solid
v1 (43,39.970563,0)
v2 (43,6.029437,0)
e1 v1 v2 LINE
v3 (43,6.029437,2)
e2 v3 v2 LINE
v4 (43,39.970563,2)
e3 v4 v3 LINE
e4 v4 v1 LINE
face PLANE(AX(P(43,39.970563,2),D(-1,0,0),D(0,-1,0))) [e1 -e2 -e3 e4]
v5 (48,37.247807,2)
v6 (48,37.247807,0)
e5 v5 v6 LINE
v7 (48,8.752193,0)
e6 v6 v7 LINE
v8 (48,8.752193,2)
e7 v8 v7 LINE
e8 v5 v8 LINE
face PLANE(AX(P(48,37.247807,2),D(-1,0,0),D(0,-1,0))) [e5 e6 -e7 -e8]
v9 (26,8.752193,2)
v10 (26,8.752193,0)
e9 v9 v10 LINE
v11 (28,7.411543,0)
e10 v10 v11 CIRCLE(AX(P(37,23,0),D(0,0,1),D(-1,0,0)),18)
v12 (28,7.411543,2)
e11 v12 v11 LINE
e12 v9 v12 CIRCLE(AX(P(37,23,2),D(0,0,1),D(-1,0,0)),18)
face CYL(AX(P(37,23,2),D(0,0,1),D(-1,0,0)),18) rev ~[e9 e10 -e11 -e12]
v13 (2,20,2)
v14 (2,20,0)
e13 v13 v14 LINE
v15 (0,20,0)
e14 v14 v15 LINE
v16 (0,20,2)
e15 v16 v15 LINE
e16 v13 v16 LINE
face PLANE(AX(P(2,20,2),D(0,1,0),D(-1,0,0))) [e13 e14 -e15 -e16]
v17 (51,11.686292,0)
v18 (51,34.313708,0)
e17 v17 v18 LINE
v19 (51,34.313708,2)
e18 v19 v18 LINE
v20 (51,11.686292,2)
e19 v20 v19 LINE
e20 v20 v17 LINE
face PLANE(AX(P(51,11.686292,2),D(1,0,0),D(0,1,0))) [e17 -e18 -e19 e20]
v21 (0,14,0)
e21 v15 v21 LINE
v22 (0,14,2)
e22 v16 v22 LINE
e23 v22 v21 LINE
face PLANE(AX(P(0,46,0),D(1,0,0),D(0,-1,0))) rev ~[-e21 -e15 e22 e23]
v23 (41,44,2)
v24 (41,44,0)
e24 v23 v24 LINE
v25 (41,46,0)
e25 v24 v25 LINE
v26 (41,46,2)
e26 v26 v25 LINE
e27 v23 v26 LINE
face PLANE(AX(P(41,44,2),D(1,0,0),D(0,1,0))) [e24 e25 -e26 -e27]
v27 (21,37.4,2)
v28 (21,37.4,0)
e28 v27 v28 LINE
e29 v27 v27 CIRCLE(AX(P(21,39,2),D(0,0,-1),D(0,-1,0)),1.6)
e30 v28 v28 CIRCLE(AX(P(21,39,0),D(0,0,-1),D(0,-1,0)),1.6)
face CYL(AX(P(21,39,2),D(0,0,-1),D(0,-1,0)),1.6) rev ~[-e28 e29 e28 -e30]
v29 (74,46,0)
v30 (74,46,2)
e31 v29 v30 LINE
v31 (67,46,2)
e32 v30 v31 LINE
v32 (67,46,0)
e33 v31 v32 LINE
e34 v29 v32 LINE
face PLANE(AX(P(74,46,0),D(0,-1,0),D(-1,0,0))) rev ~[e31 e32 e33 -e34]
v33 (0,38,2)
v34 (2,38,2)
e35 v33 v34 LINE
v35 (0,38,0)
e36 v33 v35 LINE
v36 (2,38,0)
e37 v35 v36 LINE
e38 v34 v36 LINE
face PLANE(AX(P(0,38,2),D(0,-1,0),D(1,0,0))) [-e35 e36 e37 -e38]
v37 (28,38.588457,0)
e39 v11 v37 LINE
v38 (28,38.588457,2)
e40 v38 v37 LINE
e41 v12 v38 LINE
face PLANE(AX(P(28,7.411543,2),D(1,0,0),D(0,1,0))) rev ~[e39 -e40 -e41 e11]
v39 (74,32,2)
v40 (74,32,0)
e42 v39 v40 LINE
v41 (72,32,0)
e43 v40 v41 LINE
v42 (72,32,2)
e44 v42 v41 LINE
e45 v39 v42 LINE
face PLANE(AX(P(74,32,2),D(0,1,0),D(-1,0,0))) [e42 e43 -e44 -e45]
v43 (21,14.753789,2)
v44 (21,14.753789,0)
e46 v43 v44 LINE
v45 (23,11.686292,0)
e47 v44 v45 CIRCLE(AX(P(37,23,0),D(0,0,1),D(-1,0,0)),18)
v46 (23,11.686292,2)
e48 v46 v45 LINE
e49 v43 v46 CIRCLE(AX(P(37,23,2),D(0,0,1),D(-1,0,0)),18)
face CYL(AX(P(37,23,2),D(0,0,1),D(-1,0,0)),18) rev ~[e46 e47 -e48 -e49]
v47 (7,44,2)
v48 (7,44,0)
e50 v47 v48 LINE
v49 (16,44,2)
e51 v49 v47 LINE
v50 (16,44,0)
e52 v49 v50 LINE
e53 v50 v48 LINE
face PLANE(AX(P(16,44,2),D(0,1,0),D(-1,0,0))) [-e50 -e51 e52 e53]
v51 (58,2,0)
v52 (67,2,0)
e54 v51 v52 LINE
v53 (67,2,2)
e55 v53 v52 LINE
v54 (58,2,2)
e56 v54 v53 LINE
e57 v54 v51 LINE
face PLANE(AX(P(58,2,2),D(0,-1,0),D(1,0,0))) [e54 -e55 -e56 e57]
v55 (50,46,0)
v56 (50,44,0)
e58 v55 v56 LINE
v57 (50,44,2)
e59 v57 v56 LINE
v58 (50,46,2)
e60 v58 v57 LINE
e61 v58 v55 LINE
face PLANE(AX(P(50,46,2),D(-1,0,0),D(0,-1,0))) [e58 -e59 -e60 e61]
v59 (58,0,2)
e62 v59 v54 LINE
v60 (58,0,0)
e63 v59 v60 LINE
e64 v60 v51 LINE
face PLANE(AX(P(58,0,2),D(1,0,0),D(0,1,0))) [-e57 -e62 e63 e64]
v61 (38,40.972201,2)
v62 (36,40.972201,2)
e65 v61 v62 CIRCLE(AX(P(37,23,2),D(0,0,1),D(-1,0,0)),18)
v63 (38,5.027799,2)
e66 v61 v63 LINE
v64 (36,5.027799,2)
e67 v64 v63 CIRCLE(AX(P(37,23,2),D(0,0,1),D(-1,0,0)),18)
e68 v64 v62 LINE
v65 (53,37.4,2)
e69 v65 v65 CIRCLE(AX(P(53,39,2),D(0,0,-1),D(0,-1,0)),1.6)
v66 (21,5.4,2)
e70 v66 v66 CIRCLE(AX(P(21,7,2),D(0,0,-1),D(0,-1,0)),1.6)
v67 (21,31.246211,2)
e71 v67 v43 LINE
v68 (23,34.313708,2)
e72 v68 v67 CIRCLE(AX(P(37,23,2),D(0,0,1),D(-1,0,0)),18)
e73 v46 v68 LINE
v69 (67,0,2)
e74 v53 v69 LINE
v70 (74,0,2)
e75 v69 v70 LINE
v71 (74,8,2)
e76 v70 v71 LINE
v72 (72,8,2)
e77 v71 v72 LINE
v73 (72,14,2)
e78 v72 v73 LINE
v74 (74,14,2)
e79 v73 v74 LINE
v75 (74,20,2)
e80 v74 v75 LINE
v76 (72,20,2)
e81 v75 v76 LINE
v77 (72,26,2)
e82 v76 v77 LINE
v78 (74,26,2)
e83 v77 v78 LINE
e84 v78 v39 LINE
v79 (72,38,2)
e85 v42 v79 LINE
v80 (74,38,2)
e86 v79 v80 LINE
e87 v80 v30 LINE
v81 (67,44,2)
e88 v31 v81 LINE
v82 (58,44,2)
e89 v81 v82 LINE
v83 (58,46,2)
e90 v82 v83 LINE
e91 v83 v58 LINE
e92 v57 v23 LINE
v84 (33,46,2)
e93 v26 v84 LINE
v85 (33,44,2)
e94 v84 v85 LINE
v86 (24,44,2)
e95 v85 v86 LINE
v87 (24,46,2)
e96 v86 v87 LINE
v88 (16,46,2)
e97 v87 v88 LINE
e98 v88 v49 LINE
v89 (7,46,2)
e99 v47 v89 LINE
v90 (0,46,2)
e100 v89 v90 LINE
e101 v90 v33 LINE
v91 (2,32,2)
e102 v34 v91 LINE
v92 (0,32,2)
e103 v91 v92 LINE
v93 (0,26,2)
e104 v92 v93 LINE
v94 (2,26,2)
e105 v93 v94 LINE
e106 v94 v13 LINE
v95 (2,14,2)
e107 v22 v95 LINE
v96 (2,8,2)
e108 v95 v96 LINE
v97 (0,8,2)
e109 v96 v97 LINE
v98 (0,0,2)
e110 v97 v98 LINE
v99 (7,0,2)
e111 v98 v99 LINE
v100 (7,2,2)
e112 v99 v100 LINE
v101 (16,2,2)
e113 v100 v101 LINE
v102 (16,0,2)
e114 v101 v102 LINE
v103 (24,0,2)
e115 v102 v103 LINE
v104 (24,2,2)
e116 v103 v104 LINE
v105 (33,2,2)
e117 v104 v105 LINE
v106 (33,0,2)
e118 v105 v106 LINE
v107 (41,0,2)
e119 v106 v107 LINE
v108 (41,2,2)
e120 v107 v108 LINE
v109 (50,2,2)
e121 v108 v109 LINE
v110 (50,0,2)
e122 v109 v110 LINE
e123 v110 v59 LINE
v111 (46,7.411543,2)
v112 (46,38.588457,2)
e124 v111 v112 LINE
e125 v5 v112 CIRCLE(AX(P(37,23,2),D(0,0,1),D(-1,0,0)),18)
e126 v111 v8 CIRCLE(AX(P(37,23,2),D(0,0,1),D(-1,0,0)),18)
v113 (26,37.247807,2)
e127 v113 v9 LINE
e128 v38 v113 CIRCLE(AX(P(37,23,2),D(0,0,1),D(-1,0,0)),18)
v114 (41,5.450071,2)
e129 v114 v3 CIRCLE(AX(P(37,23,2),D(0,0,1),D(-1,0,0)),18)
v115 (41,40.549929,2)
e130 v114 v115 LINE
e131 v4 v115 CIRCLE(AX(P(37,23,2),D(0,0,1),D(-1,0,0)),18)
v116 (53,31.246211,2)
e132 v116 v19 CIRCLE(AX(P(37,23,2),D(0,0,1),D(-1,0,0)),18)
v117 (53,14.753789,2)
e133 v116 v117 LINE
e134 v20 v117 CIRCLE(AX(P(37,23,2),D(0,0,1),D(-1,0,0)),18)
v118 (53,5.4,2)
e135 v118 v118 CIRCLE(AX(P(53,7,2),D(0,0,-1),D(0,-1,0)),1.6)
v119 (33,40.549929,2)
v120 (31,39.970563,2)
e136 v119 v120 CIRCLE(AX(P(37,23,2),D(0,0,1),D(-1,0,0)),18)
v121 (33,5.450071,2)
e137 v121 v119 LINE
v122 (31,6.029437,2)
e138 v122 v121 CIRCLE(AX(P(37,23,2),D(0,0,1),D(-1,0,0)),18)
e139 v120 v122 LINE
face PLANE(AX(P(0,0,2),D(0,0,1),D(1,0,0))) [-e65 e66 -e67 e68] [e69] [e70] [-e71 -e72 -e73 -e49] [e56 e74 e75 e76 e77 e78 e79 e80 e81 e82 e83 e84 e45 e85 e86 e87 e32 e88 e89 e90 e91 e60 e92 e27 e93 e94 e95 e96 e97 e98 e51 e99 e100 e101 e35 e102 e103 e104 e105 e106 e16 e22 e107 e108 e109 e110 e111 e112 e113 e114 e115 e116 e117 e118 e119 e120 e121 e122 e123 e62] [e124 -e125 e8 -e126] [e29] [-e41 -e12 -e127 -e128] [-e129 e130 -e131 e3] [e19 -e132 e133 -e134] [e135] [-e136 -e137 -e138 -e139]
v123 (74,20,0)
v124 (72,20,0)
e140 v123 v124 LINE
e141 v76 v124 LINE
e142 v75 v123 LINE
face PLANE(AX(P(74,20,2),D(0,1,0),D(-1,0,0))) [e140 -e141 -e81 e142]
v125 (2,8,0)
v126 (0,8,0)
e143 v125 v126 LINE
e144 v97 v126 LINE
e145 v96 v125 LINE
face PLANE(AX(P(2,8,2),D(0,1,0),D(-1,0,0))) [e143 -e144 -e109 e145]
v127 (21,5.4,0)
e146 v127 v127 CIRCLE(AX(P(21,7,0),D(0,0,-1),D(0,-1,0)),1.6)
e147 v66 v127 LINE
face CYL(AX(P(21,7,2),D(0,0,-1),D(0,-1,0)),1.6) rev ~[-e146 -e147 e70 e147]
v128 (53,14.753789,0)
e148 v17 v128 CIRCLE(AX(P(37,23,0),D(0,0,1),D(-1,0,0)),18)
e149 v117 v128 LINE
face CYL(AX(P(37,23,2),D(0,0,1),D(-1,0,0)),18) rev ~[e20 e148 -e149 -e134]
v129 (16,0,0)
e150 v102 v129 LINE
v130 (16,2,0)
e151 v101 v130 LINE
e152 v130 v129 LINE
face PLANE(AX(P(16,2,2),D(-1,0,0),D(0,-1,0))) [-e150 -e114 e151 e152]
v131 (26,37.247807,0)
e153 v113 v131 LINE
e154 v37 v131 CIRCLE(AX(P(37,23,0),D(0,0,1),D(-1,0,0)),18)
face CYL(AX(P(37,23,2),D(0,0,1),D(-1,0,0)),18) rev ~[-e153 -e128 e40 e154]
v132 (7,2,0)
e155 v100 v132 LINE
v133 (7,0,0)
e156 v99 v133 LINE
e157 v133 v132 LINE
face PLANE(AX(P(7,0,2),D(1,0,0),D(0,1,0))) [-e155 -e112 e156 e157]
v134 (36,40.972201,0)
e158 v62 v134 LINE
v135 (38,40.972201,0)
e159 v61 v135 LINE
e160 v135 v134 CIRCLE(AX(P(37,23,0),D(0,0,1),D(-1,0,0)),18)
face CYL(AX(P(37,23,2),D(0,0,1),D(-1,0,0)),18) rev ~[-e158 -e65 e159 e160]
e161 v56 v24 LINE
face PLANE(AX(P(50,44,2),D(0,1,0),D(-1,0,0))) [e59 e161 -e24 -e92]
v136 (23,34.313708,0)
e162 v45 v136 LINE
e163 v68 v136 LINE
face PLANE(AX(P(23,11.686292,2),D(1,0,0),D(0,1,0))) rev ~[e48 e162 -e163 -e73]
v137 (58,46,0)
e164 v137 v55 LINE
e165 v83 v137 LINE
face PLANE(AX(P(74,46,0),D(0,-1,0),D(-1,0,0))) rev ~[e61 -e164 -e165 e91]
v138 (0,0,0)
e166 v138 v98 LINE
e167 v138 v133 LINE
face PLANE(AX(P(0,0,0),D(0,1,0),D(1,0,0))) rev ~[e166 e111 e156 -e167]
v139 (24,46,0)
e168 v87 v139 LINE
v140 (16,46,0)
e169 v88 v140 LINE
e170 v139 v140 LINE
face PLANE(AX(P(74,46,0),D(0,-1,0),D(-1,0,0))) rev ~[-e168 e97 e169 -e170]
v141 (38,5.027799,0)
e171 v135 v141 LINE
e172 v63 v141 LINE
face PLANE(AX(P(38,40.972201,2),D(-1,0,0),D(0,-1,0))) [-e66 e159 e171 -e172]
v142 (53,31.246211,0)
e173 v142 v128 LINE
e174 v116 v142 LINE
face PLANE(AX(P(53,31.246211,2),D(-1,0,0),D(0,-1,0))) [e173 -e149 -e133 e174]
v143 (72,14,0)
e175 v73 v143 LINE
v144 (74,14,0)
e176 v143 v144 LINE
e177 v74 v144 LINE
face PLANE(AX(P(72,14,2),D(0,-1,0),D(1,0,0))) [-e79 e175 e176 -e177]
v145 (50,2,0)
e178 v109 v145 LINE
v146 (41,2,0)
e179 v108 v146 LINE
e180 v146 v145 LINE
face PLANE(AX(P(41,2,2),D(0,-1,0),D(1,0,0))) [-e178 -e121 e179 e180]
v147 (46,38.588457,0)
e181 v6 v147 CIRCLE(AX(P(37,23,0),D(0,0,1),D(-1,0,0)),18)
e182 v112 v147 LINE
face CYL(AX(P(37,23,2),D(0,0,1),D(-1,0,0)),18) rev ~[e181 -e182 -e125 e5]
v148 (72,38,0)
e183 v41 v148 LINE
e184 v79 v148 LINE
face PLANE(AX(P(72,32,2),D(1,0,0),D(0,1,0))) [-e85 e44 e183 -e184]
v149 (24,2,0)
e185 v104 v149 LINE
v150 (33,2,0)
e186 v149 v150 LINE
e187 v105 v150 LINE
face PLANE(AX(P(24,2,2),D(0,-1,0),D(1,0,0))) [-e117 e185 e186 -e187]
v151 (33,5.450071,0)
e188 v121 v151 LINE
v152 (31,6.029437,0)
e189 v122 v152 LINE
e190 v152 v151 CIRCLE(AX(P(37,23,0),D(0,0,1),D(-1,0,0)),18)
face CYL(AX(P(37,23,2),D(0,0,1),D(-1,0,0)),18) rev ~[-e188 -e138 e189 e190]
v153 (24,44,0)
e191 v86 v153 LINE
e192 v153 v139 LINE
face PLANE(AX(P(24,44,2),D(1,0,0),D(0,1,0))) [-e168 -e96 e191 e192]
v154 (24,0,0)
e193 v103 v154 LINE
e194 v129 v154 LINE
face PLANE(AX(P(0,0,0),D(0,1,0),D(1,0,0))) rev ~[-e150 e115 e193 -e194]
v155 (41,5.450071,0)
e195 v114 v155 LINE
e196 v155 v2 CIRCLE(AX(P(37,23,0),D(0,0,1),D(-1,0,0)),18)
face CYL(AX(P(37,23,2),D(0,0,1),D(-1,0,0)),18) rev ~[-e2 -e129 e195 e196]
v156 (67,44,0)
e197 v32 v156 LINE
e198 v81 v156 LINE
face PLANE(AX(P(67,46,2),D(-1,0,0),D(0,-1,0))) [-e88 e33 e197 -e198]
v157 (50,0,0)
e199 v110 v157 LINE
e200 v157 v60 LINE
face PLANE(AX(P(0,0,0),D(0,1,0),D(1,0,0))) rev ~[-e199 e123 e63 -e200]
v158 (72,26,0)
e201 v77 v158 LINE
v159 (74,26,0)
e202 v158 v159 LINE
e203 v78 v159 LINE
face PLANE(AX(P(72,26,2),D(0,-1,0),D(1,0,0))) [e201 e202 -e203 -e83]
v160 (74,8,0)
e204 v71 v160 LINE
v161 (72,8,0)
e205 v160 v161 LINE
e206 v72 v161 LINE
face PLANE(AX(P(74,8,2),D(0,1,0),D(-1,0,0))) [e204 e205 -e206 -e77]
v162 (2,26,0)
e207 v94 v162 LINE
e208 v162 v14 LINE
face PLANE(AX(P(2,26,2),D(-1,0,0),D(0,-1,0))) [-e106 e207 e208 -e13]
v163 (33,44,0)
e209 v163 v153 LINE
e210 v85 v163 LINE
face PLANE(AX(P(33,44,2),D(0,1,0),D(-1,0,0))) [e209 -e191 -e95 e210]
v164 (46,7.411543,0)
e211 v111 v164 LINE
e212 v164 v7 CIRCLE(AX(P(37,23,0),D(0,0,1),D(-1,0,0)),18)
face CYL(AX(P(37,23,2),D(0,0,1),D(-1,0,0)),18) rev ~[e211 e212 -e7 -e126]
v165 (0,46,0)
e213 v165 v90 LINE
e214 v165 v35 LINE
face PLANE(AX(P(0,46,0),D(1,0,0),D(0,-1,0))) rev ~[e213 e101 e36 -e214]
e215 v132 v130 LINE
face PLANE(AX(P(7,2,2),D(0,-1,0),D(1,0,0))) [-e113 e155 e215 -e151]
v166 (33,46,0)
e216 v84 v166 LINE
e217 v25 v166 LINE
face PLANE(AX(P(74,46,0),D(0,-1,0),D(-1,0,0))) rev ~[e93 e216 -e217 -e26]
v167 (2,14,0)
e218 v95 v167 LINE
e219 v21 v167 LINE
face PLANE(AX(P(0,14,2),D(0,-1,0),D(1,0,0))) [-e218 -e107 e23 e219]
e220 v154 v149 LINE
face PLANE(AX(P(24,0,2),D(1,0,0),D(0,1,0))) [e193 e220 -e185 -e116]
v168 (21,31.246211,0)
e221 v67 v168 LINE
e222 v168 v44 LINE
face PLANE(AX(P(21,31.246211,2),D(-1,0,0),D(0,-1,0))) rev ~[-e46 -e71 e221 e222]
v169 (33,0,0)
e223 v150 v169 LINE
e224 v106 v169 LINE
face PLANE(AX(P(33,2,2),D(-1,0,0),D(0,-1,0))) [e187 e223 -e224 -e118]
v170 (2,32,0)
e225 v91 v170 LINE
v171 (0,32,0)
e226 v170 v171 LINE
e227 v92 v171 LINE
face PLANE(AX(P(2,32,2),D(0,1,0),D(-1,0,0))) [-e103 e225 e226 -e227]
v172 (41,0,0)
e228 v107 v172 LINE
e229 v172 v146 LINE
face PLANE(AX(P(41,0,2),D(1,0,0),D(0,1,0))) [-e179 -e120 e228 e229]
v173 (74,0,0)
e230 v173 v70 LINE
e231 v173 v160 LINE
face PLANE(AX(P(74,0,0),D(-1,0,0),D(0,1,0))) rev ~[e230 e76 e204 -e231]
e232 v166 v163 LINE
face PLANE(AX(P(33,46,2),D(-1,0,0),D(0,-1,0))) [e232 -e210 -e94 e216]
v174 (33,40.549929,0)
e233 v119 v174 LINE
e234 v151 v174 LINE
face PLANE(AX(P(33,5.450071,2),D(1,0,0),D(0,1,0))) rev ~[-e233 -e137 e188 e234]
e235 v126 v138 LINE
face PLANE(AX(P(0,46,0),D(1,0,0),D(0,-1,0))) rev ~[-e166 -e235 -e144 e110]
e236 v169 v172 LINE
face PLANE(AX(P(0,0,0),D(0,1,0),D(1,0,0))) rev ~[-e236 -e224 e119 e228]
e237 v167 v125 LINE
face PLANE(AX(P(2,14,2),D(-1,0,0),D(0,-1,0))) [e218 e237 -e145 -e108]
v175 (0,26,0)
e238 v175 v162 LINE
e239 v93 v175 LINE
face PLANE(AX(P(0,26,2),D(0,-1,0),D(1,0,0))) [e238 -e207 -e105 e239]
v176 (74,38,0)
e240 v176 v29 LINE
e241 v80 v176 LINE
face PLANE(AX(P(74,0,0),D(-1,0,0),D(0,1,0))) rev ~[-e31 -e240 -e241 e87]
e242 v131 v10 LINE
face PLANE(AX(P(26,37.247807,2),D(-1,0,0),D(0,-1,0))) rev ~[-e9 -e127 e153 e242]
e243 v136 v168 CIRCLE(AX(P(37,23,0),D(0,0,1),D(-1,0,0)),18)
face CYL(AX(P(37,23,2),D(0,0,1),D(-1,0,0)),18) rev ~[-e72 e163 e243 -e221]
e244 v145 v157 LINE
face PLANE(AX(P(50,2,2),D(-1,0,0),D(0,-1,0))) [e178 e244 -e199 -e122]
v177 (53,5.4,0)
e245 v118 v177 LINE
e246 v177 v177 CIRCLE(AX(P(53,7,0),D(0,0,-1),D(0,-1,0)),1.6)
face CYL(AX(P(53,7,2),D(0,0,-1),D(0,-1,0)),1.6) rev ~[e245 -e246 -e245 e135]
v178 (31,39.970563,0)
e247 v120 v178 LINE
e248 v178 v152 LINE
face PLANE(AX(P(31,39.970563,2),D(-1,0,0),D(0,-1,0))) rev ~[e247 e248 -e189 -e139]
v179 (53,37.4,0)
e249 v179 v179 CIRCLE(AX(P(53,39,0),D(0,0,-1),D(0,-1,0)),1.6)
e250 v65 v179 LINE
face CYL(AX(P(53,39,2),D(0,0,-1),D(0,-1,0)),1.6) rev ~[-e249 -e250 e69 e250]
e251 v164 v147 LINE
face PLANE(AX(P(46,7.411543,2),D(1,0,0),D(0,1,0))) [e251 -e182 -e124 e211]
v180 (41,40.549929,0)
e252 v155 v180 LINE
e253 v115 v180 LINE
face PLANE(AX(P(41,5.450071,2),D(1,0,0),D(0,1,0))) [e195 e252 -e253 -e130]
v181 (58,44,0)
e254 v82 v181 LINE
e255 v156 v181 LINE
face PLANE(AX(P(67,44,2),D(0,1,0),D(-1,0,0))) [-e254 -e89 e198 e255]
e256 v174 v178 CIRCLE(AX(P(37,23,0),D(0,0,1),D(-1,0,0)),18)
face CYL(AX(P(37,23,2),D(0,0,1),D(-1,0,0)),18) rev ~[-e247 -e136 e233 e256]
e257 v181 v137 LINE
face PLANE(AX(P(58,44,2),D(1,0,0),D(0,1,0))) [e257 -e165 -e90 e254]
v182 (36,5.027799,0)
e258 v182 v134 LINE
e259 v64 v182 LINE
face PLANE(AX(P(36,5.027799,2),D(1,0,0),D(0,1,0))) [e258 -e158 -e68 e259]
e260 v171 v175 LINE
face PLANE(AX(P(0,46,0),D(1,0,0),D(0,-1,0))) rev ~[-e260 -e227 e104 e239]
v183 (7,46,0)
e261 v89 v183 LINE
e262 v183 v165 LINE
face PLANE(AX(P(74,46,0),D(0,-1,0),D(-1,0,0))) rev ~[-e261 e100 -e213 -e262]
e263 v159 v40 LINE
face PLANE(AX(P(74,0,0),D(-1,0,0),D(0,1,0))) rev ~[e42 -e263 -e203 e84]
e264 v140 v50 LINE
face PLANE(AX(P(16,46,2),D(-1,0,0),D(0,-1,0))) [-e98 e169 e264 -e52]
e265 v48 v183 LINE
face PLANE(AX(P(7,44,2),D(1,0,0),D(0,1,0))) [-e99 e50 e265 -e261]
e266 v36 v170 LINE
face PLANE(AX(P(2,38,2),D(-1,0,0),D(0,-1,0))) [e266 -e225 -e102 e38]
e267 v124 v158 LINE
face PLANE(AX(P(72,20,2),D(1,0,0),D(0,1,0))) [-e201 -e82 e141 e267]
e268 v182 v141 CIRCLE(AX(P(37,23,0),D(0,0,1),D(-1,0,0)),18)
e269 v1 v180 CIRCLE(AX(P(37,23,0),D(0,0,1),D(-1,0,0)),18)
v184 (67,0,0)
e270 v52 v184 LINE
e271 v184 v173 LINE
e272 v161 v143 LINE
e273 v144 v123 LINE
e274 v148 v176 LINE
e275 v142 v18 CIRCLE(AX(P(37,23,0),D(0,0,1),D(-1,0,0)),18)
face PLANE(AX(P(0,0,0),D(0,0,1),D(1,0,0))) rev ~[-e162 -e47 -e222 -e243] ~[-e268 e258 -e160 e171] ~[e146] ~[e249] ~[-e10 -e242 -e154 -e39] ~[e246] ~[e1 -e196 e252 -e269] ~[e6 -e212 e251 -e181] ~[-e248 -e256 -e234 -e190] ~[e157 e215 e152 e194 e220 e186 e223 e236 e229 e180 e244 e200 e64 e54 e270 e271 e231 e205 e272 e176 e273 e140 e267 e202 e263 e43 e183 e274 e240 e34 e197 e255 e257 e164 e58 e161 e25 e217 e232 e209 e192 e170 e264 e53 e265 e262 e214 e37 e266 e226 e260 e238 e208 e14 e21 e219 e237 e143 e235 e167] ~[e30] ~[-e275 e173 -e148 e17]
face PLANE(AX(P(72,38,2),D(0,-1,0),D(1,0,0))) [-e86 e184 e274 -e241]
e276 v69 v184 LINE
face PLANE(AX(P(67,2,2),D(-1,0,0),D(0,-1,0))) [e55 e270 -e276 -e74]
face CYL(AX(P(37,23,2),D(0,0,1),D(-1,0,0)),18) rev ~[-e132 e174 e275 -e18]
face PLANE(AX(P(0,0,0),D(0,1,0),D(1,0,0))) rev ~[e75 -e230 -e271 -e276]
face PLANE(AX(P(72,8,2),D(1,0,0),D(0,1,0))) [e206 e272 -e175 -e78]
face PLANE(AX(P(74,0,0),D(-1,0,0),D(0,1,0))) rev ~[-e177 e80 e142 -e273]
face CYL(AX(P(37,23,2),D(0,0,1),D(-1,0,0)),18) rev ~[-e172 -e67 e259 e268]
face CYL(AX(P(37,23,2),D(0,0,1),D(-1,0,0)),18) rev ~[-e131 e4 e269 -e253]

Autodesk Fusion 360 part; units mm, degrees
sketch "スケッチ1" plane through (0, 0, 0) normal (0, 0, 1) x (1, 0, 0)
  line L0 (0, 0) -> (74, 0)
  line L1 (74, 0) -> (74, 46)
  line L2 (74, 46) -> (0, 46)
  line L3 (0, 46) -> (0, 0)
  dimension "d1" = 46
  dimension "d2" = 74
extrude "押し出し1" add sketch "スケッチ1" along normal blind 2
sketch "スケッチ2" plane through (0, 0, 2) normal (0, 0, 1) x (-1, 0, 0)
  line L0 (0, -46) -> (0, 0)
  line L1 (0, 0) -> (-74, 0)
  line L2 (-74, 0) -> (-74, -46)
  line L3 (-74, -46) -> (0, -46)
  circle A0 centre (-53, -39) radius 1.6
  circle A1 centre (-53, -39) radius 1.6
  circle A2 centre (-53, -7) radius 1.6
  circle A3 centre (-21, -7) radius 1.6
  circle A4 centre (-21, -39) radius 1.6
  dimension "d5" = 3.2
  dimension "d6" = 7
  dimension "d7" = 21
  dimension "d8" = 3.2
  dimension "d9" = 3.2
  dimension "d10" = 3.2
  dimension "d11" = 3.2
  dimension "d12" = 7
  dimension "d13" = 21
hole "穴1" at (21, 39, 2) at (53, 39, 2) at (53, 7, 2) at (21, 7, 2) direction (0, 0, -1) diameter 3.2 depth 16 tip angle 118
sketch "スケッチ3" plane through (0, 0, 2) normal (0, 0, 1) x (-1, 0, 0)
  circle A0 centre (-53, -7) radius 1.6
  circle A1 centre (-21, -39) radius 1.6
  circle A2 centre (-53, -39) radius 1.6
  circle A3 centre (-21, -7) radius 1.6
  line L0 (0, -46) -> (0, 0)
  line L1 (0, 0) -> (-74, 0)
  line L2 (-74, 0) -> (-74, -46)
  line L3 (-74, -46) -> (0, -46)
  line L4 (-58, -46) -> (-67, -46)
  line L5 (-67, -46) -> (-67, -44)
  line L6 (-67, -44) -> (-58, -44)
  line L7 (-58, -44) -> (-58, -46)
  line L8 (-50, -46) -> (-50, -44)
  line L9 (-41, -46) -> (-50, -46)
  line L10 (-50, -44) -> (-41, -44)
  line L11 (-41, -44) -> (-41, -46)
  line L12 (-33, -46) -> (-33, -44)
  line L13 (-24, -46) -> (-33, -46)
  line L14 (-33, -44) -> (-24, -44)
  line L15 (-24, -44) -> (-24, -46)
  line L16 (-16, -46) -> (-16, -44)
  line L17 (-7, -46) -> (-16, -46)
  line L18 (-16, -44) -> (-7, -44)
  line L19 (-7, -44) -> (-7, -46)
  line L20 (0, -38) -> (-2, -38)
  line L21 (-2, -38) -> (-2, -32)
  line L22 (-2, -32) -> (0, -32)
  line L23 (0, -32) -> (0, -38)
  line L24 (-2, -20) -> (0, -20)
  line L25 (0, -20) -> (0, -26)
  line L26 (-2, -26) -> (-2, -20)
  line L27 (0, -26) -> (-2, -26)
  line L28 (-2, -8) -> (0, -8)
  line L29 (0, -8) -> (0, -14)
  line L30 (-2, -14) -> (-2, -8)
  line L31 (0, -14) -> (-2, -14)
  line L32 (-72, -8) -> (-72, -14)
  line L33 (-72, -38) -> (-74, -38)
  line L34 (-72, -32) -> (-72, -38)
  line L35 (-74, -26) -> (-74, -20)
  line L36 (-74, -32) -> (-72, -32)
  line L37 (-74, -20) -> (-72, -20)
  line L38 (-72, -20) -> (-72, -26)
  line L39 (-74, -14) -> (-74, -8)
  line L40 (-72, -26) -> (-74, -26)
  line L41 (-74, -38) -> (-74, -32)
  line L42 (-74, -8) -> (-72, -8)
  line L43 (-72, -14) -> (-74, -14)
  line L44 (-144, -8) -> (-144, -14)
  line L45 (-144, -38) -> (-146, -38)
  line L46 (-144, -32) -> (-144, -38)
  line L47 (-146, -26) -> (-146, -20)
  line L48 (-146, -32) -> (-144, -32)
  line L49 (-146, -20) -> (-144, -20)
  line L50 (-144, -20) -> (-144, -26)
  line L51 (-146, -14) -> (-146, -8)
  line L52 (-144, -26) -> (-146, -26)
  line L53 (-146, -38) -> (-146, -32)
  line L54 (-146, -8) -> (-144, -8)
  line L55 (-144, -14) -> (-146, -14)
  line L56 (-41, 0) -> (-41, -2)
  line L57 (-67, 0) -> (-58, 0)
  line L58 (-67, -2) -> (-67, 0)
  line L59 (-41, -2) -> (-50, -2)
  line L60 (-7, 0) -> (-7, -2)
  line L61 (-24, 0) -> (-24, -2)
  line L62 (-33, 0) -> (-24, 0)
  line L63 (-50, -2) -> (-50, 0)
  line L64 (-24, -2) -> (-33, -2)
  line L65 (-7, -2) -> (-16, -2)
  line L66 (-58, -2) -> (-67, -2)
  line L67 (-16, -2) -> (-16, 0)
  line L68 (-50, 0) -> (-41, 0)
  line L69 (-58, 0) -> (-58, -2)
  line L70 (-16, 0) -> (-7, 0)
  line L71 (-33, -2) -> (-33, 0)
  line L72 (-41, 44) -> (-41, 42)
  line L73 (-67, 44) -> (-58, 44)
  line L74 (-67, 42) -> (-67, 44)
  line L75 (-41, 42) -> (-50, 42)
  line L76 (-7, 44) -> (-7, 42)
  line L77 (-24, 44) -> (-24, 42)
  line L78 (-33, 44) -> (-24, 44)
  line L79 (-50, 42) -> (-50, 44)
  line L80 (-24, 42) -> (-33, 42)
  line L81 (-7, 42) -> (-16, 42)
  line L82 (-58, 42) -> (-67, 42)
  line L83 (-16, 42) -> (-16, 44)
  line L84 (-50, 44) -> (-41, 44)
  line L85 (-58, 44) -> (-58, 42)
  line L86 (-16, 44) -> (-7, 44)
  line L87 (-33, 42) -> (-33, 44)
  dimension "d17" = 9
  dimension "d18" = 2
  dimension "d19" = 7
  dimension "d22" = 17
  dimension "d23" = 0
  dimension "d24" = 6
  dimension "d25" = 2
  dimension "d26" = 8
  dimension "d29" = 0
  dimension "d30" = 12
  dimension "d33" = -72
  dimension "d34" = 0
  dimension "d37" = 0
  dimension "d38" = 44
extrude "押し出し2" cut sketch "スケッチ3" against normal blind 2 contours L0 L20 L21 L22 L23 | L3 L16 L17 L18 L19 | L0 L24 L25 L26 L27 | L3 L12 L13 L14 L15 | L0 L28 L29 L30 L31 | L3 L8 L9 L10 L11 | L3 L4 L5 L6 L7 | L1 L60 L65 L67 L70 | L1 L61 L62 L64 L71 | L2 L33 L34 L36 L41 | L1 L56 L59 L63 L68 | L2 L35 L37 L38 L40 | L1 L57 L58 L66 L69 | L2 L32 L39 L42 L43
sketch "スケッチ4" plane through (0, 0, 2) normal (0, 0, 1) x (-1, 0, 0)
  line L0 (-50, -2) -> (-50, 0)
  line L1 (-50, 0) -> (-58, 0)
  line L2 (-58, 0) -> (-58, -2)
  line L3 (-58, -2) -> (-67, -2)
  line L4 (-67, -2) -> (-67, 0)
  line L5 (-67, 0) -> (-74, 0)
  line L6 (-74, 0) -> (-74, -8)
  line L7 (-74, -8) -> (-72, -8)
  line L8 (-72, -8) -> (-72, -14)
  line L9 (-72, -14) -> (-74, -14)
  line L10 (-74, -14) -> (-74, -20)
  line L11 (-74, -20) -> (-72, -20)
  line L12 (-72, -20) -> (-72, -26)
  line L13 (-72, -26) -> (-74, -26)
  line L14 (-74, -26) -> (-74, -32)
  line L15 (-74, -32) -> (-72, -32)
  line L16 (-72, -32) -> (-72, -38)
  line L17 (-72, -38) -> (-74, -38)
  line L18 (-74, -38) -> (-74, -46)
  line L19 (-74, -46) -> (-67, -46)
  line L20 (-67, -46) -> (-67, -44)
  line L21 (-67, -44) -> (-58, -44)
  line L22 (-58, -44) -> (-58, -46)
  line L23 (-58, -46) -> (-50, -46)
  line L24 (-50, -46) -> (-50, -44)
  line L25 (-50, -44) -> (-41, -44)
  line L26 (-41, -44) -> (-41, -46)
  line L27 (-41, -46) -> (-33, -46)
  line L28 (-33, -46) -> (-33, -44)
  line L29 (-33, -44) -> (-24, -44)
  line L30 (-24, -44) -> (-24, -46)
  line L31 (-24, -46) -> (-16, -46)
  line L32 (-16, -46) -> (-16, -44)
  line L33 (-16, -44) -> (-7, -44)
  line L34 (-7, -44) -> (-7, -46)
  line L35 (-7, -46) -> (0, -46)
  line L36 (0, -46) -> (0, -38)
  line L37 (0, -38) -> (-2, -38)
  line L38 (-2, -38) -> (-2, -32)
  line L39 (-2, -32) -> (0, -32)
  line L40 (0, -32) -> (0, -26)
  line L41 (0, -26) -> (-2, -26)
  line L42 (-2, -26) -> (-2, -20)
  line L43 (-2, -20) -> (0, -20)
  line L44 (0, -20) -> (0, -14)
  line L45 (0, -14) -> (-2, -14)
  line L46 (-2, -14) -> (-2, -8)
  line L47 (-2, -8) -> (0, -8)
  line L48 (0, -8) -> (0, 0)
  line L49 (0, 0) -> (-7, 0)
  line L50 (-7, 0) -> (-7, -2)
  line L51 (-7, -2) -> (-16, -2)
  line L52 (-16, -2) -> (-16, 0)
  line L53 (-16, 0) -> (-24, 0)
  line L54 (-24, 0) -> (-24, -2)
  line L55 (-24, -2) -> (-33, -2)
  line L56 (-33, -2) -> (-33, 0)
  line L57 (-33, 0) -> (-41, 0)
  line L58 (-41, 0) -> (-41, -2)
  line L59 (-41, -2) -> (-50, -2)
  circle A0 centre (-53, -7) radius 1.6
  circle A1 centre (-21, -39) radius 1.6
  circle A2 centre (-53, -39) radius 1.6
  circle A3 centre (-21, -7) radius 1.6
  circle A4 centre (-37, -23) radius 18
  line L60 (-36, -42) -> (-38, -42)
  line L61 (-38, -42) -> (-38, -4)
  line L62 (-38, -4) -> (-36, -4)
  line L63 (-36, -4) -> (-36, -42)
  line L64 (-41, -42) -> (-43, -42)
  line L65 (-43, -42) -> (-43, -5)
  line L66 (-43, -5) -> (-41, -5)
  line L67 (-41, -5) -> (-41, -42)
  line L68 (-46, -40) -> (-48, -40)
  line L69 (-48, -40) -> (-48, -6)
  line L70 (-48, -6) -> (-46, -6)
  line L71 (-46, -6) -> (-46, -40)
  line L72 (-51, -36) -> (-53, -36)
  line L73 (-53, -36) -> (-53, -11)
  line L74 (-53, -11) -> (-51, -11)
  line L75 (-51, -11) -> (-51, -36)
  line L76 (-33, -42) -> (-31, -42)
  line L77 (-31, -42) -> (-31, -4)
  line L78 (-31, -4) -> (-33, -4)
  line L79 (-33, -4) -> (-33, -42)
  line L80 (-28, -40) -> (-26, -40)
  line L81 (-26, -40) -> (-26, -6)
  line L82 (-26, -6) -> (-28, -6)
  line L83 (-28, -6) -> (-28, -40)
  line L84 (-23, -36) -> (-21, -36)
  line L85 (-21, -36) -> (-21, -11)
  line L86 (-21, -11) -> (-23, -11)
  line L87 (-23, -11) -> (-23, -36)
extrude "押し出し3" cut sketch "スケッチ4" against normal blind 2 contours A4 L85 L87 | A4 L81 L83 | A4 L77 L79 | A4 L61 L63 | A4 L65 L67 | A4 L69 L71 | A4 L73 L75
sketch "スケッチ5" plane through (0, 0, 2) normal (0, 0, 1) x (-1, 0, 0)
  line L0 (-33, -40.5499) -> (-33, -5.4501)
  arc A0 (-31, -6.0294) -> (-33, -5.4501) centre (-37, -23) ccw
  line L1 (-31, -6.0294) -> (-31, -39.9706)
  arc A1 (-33, -40.5499) -> (-31, -39.9706) centre (-37, -23) ccw
  line L2 (-51, -11.6863) -> (-51, -34.3137)
  arc A2 (-53, -31.2462) -> (-51, -34.3137) centre (-37, -23) ccw
  line L3 (-53, -31.2462) -> (-53, -14.7538)
  arc A3 (-51, -11.6863) -> (-53, -14.7538) centre (-37, -23) ccw
  line L4 (-36, -5.0278) -> (-36, -40.9722)
  arc A4 (-38, -40.9722) -> (-36, -40.9722) centre (-37, -23) ccw
  line L5 (-38, -40.9722) -> (-38, -5.0278)
  arc A5 (-36, -5.0278) -> (-38, -5.0278) centre (-37, -23) ccw
  line L6 (-28, -38.5885) -> (-28, -7.4115)
  arc A6 (-26, -8.7522) -> (-28, -7.4115) centre (-37, -23) ccw
  line L7 (-26, -8.7522) -> (-26, -37.2478)
  arc A7 (-28, -38.5885) -> (-26, -37.2478) centre (-37, -23) ccw
  line L8 (-46, -7.4115) -> (-46, -38.5885)
  arc A8 (-48, -37.2478) -> (-46, -38.5885) centre (-37, -23) ccw
  line L9 (-48, -37.2478) -> (-48, -8.7522)
  arc A9 (-46, -7.4115) -> (-48, -8.7522) centre (-37, -23) ccw
  line L10 (-41, -5.4501) -> (-41, -40.5499)
  arc A10 (-43, -39.9706) -> (-41, -40.5499) centre (-37, -23) ccw
  line L11 (-43, -39.9706) -> (-43, -6.0294)
  arc A11 (-41, -5.4501) -> (-43, -6.0294) centre (-37, -23) ccw
  line L12 (-23, -34.3137) -> (-23, -11.6863)
  arc A12 (-21, -14.7538) -> (-23, -11.6863) centre (-37, -23) ccw
  line L13 (-21, -14.7538) -> (-21, -31.2462)
  arc A13 (-23, -34.3137) -> (-21, -31.2462) centre (-37, -23) ccw
  line L14 (-50, -2) -> (-50, 0)
  line L15 (-50, 0) -> (-58, 0)
  line L16 (-58, 0) -> (-58, -2)
  line L17 (-58, -2) -> (-67, -2)
  line L18 (-67, -2) -> (-67, 0)
  line L19 (-67, 0) -> (-74, 0)
  line L20 (-74, 0) -> (-74, -8)
  line L21 (-74, -8) -> (-72, -8)
  line L22 (-72, -8) -> (-72, -14)
  line L23 (-72, -14) -> (-74, -14)
  line L24 (-74, -14) -> (-74, -20)
  line L25 (-74, -20) -> (-72, -20)
  line L26 (-72, -20) -> (-72, -26)
  line L27 (-72, -26) -> (-74, -26)
  line L28 (-74, -26) -> (-74, -32)
  line L29 (-74, -32) -> (-72, -32)
  line L30 (-72, -32) -> (-72, -38)
  line L31 (-72, -38) -> (-74, -38)
  line L32 (-74, -38) -> (-74, -46)
  line L33 (-74, -46) -> (-67, -46)
  line L34 (-67, -46) -> (-67, -44)
  line L35 (-67, -44) -> (-58, -44)
  line L36 (-58, -44) -> (-58, -46)
  line L37 (-58, -46) -> (-50, -46)
  line L38 (-50, -46) -> (-50, -44)
  line L39 (-50, -44) -> (-41, -44)
  line L40 (-41, -44) -> (-41, -46)
  line L41 (-41, -46) -> (-33, -46)
  line L42 (-33, -46) -> (-33, -44)
  line L43 (-33, -44) -> (-24, -44)
  line L44 (-24, -44) -> (-24, -46)
  line L45 (-24, -46) -> (-16, -46)
  line L46 (-16, -46) -> (-16, -44)
  line L47 (-16, -44) -> (-7, -44)
  line L48 (-7, -44) -> (-7, -46)
  line L49 (-7, -46) -> (0, -46)
  line L50 (0, -46) -> (0, -38)
  line L51 (0, -38) -> (-2, -38)
  line L52 (-2, -38) -> (-2, -32)
  line L53 (-2, -32) -> (0, -32)
  line L54 (0, -32) -> (0, -26)
  line L55 (0, -26) -> (-2, -26)
  line L56 (-2, -26) -> (-2, -20)
  line L57 (-2, -20) -> (0, -20)
  line L58 (0, -20) -> (0, -14)
  line L59 (0, -14) -> (-2, -14)
  line L60 (-2, -14) -> (-2, -8)
  line L61 (-2, -8) -> (0, -8)
  line L62 (0, -8) -> (0, 0)
  line L63 (0, 0) -> (-7, 0)
  line L64 (-7, 0) -> (-7, -2)
  line L65 (-7, -2) -> (-16, -2)
  line L66 (-16, -2) -> (-16, 0)
  line L67 (-16, 0) -> (-24, 0)
  line L68 (-24, 0) -> (-24, -2)
  line L69 (-24, -2) -> (-33, -2)
  line L70 (-33, -2) -> (-33, 0)
  line L71 (-33, 0) -> (-41, 0)
  line L72 (-41, 0) -> (-41, -2)
  line L73 (-41, -2) -> (-50, -2)
  circle A14 centre (-53, -7) radius 1.6
  circle A15 centre (-21, -39) radius 1.6
  circle A16 centre (-53, -39) radius 1.6
  circle A17 centre (-21, -7) radius 1.6
